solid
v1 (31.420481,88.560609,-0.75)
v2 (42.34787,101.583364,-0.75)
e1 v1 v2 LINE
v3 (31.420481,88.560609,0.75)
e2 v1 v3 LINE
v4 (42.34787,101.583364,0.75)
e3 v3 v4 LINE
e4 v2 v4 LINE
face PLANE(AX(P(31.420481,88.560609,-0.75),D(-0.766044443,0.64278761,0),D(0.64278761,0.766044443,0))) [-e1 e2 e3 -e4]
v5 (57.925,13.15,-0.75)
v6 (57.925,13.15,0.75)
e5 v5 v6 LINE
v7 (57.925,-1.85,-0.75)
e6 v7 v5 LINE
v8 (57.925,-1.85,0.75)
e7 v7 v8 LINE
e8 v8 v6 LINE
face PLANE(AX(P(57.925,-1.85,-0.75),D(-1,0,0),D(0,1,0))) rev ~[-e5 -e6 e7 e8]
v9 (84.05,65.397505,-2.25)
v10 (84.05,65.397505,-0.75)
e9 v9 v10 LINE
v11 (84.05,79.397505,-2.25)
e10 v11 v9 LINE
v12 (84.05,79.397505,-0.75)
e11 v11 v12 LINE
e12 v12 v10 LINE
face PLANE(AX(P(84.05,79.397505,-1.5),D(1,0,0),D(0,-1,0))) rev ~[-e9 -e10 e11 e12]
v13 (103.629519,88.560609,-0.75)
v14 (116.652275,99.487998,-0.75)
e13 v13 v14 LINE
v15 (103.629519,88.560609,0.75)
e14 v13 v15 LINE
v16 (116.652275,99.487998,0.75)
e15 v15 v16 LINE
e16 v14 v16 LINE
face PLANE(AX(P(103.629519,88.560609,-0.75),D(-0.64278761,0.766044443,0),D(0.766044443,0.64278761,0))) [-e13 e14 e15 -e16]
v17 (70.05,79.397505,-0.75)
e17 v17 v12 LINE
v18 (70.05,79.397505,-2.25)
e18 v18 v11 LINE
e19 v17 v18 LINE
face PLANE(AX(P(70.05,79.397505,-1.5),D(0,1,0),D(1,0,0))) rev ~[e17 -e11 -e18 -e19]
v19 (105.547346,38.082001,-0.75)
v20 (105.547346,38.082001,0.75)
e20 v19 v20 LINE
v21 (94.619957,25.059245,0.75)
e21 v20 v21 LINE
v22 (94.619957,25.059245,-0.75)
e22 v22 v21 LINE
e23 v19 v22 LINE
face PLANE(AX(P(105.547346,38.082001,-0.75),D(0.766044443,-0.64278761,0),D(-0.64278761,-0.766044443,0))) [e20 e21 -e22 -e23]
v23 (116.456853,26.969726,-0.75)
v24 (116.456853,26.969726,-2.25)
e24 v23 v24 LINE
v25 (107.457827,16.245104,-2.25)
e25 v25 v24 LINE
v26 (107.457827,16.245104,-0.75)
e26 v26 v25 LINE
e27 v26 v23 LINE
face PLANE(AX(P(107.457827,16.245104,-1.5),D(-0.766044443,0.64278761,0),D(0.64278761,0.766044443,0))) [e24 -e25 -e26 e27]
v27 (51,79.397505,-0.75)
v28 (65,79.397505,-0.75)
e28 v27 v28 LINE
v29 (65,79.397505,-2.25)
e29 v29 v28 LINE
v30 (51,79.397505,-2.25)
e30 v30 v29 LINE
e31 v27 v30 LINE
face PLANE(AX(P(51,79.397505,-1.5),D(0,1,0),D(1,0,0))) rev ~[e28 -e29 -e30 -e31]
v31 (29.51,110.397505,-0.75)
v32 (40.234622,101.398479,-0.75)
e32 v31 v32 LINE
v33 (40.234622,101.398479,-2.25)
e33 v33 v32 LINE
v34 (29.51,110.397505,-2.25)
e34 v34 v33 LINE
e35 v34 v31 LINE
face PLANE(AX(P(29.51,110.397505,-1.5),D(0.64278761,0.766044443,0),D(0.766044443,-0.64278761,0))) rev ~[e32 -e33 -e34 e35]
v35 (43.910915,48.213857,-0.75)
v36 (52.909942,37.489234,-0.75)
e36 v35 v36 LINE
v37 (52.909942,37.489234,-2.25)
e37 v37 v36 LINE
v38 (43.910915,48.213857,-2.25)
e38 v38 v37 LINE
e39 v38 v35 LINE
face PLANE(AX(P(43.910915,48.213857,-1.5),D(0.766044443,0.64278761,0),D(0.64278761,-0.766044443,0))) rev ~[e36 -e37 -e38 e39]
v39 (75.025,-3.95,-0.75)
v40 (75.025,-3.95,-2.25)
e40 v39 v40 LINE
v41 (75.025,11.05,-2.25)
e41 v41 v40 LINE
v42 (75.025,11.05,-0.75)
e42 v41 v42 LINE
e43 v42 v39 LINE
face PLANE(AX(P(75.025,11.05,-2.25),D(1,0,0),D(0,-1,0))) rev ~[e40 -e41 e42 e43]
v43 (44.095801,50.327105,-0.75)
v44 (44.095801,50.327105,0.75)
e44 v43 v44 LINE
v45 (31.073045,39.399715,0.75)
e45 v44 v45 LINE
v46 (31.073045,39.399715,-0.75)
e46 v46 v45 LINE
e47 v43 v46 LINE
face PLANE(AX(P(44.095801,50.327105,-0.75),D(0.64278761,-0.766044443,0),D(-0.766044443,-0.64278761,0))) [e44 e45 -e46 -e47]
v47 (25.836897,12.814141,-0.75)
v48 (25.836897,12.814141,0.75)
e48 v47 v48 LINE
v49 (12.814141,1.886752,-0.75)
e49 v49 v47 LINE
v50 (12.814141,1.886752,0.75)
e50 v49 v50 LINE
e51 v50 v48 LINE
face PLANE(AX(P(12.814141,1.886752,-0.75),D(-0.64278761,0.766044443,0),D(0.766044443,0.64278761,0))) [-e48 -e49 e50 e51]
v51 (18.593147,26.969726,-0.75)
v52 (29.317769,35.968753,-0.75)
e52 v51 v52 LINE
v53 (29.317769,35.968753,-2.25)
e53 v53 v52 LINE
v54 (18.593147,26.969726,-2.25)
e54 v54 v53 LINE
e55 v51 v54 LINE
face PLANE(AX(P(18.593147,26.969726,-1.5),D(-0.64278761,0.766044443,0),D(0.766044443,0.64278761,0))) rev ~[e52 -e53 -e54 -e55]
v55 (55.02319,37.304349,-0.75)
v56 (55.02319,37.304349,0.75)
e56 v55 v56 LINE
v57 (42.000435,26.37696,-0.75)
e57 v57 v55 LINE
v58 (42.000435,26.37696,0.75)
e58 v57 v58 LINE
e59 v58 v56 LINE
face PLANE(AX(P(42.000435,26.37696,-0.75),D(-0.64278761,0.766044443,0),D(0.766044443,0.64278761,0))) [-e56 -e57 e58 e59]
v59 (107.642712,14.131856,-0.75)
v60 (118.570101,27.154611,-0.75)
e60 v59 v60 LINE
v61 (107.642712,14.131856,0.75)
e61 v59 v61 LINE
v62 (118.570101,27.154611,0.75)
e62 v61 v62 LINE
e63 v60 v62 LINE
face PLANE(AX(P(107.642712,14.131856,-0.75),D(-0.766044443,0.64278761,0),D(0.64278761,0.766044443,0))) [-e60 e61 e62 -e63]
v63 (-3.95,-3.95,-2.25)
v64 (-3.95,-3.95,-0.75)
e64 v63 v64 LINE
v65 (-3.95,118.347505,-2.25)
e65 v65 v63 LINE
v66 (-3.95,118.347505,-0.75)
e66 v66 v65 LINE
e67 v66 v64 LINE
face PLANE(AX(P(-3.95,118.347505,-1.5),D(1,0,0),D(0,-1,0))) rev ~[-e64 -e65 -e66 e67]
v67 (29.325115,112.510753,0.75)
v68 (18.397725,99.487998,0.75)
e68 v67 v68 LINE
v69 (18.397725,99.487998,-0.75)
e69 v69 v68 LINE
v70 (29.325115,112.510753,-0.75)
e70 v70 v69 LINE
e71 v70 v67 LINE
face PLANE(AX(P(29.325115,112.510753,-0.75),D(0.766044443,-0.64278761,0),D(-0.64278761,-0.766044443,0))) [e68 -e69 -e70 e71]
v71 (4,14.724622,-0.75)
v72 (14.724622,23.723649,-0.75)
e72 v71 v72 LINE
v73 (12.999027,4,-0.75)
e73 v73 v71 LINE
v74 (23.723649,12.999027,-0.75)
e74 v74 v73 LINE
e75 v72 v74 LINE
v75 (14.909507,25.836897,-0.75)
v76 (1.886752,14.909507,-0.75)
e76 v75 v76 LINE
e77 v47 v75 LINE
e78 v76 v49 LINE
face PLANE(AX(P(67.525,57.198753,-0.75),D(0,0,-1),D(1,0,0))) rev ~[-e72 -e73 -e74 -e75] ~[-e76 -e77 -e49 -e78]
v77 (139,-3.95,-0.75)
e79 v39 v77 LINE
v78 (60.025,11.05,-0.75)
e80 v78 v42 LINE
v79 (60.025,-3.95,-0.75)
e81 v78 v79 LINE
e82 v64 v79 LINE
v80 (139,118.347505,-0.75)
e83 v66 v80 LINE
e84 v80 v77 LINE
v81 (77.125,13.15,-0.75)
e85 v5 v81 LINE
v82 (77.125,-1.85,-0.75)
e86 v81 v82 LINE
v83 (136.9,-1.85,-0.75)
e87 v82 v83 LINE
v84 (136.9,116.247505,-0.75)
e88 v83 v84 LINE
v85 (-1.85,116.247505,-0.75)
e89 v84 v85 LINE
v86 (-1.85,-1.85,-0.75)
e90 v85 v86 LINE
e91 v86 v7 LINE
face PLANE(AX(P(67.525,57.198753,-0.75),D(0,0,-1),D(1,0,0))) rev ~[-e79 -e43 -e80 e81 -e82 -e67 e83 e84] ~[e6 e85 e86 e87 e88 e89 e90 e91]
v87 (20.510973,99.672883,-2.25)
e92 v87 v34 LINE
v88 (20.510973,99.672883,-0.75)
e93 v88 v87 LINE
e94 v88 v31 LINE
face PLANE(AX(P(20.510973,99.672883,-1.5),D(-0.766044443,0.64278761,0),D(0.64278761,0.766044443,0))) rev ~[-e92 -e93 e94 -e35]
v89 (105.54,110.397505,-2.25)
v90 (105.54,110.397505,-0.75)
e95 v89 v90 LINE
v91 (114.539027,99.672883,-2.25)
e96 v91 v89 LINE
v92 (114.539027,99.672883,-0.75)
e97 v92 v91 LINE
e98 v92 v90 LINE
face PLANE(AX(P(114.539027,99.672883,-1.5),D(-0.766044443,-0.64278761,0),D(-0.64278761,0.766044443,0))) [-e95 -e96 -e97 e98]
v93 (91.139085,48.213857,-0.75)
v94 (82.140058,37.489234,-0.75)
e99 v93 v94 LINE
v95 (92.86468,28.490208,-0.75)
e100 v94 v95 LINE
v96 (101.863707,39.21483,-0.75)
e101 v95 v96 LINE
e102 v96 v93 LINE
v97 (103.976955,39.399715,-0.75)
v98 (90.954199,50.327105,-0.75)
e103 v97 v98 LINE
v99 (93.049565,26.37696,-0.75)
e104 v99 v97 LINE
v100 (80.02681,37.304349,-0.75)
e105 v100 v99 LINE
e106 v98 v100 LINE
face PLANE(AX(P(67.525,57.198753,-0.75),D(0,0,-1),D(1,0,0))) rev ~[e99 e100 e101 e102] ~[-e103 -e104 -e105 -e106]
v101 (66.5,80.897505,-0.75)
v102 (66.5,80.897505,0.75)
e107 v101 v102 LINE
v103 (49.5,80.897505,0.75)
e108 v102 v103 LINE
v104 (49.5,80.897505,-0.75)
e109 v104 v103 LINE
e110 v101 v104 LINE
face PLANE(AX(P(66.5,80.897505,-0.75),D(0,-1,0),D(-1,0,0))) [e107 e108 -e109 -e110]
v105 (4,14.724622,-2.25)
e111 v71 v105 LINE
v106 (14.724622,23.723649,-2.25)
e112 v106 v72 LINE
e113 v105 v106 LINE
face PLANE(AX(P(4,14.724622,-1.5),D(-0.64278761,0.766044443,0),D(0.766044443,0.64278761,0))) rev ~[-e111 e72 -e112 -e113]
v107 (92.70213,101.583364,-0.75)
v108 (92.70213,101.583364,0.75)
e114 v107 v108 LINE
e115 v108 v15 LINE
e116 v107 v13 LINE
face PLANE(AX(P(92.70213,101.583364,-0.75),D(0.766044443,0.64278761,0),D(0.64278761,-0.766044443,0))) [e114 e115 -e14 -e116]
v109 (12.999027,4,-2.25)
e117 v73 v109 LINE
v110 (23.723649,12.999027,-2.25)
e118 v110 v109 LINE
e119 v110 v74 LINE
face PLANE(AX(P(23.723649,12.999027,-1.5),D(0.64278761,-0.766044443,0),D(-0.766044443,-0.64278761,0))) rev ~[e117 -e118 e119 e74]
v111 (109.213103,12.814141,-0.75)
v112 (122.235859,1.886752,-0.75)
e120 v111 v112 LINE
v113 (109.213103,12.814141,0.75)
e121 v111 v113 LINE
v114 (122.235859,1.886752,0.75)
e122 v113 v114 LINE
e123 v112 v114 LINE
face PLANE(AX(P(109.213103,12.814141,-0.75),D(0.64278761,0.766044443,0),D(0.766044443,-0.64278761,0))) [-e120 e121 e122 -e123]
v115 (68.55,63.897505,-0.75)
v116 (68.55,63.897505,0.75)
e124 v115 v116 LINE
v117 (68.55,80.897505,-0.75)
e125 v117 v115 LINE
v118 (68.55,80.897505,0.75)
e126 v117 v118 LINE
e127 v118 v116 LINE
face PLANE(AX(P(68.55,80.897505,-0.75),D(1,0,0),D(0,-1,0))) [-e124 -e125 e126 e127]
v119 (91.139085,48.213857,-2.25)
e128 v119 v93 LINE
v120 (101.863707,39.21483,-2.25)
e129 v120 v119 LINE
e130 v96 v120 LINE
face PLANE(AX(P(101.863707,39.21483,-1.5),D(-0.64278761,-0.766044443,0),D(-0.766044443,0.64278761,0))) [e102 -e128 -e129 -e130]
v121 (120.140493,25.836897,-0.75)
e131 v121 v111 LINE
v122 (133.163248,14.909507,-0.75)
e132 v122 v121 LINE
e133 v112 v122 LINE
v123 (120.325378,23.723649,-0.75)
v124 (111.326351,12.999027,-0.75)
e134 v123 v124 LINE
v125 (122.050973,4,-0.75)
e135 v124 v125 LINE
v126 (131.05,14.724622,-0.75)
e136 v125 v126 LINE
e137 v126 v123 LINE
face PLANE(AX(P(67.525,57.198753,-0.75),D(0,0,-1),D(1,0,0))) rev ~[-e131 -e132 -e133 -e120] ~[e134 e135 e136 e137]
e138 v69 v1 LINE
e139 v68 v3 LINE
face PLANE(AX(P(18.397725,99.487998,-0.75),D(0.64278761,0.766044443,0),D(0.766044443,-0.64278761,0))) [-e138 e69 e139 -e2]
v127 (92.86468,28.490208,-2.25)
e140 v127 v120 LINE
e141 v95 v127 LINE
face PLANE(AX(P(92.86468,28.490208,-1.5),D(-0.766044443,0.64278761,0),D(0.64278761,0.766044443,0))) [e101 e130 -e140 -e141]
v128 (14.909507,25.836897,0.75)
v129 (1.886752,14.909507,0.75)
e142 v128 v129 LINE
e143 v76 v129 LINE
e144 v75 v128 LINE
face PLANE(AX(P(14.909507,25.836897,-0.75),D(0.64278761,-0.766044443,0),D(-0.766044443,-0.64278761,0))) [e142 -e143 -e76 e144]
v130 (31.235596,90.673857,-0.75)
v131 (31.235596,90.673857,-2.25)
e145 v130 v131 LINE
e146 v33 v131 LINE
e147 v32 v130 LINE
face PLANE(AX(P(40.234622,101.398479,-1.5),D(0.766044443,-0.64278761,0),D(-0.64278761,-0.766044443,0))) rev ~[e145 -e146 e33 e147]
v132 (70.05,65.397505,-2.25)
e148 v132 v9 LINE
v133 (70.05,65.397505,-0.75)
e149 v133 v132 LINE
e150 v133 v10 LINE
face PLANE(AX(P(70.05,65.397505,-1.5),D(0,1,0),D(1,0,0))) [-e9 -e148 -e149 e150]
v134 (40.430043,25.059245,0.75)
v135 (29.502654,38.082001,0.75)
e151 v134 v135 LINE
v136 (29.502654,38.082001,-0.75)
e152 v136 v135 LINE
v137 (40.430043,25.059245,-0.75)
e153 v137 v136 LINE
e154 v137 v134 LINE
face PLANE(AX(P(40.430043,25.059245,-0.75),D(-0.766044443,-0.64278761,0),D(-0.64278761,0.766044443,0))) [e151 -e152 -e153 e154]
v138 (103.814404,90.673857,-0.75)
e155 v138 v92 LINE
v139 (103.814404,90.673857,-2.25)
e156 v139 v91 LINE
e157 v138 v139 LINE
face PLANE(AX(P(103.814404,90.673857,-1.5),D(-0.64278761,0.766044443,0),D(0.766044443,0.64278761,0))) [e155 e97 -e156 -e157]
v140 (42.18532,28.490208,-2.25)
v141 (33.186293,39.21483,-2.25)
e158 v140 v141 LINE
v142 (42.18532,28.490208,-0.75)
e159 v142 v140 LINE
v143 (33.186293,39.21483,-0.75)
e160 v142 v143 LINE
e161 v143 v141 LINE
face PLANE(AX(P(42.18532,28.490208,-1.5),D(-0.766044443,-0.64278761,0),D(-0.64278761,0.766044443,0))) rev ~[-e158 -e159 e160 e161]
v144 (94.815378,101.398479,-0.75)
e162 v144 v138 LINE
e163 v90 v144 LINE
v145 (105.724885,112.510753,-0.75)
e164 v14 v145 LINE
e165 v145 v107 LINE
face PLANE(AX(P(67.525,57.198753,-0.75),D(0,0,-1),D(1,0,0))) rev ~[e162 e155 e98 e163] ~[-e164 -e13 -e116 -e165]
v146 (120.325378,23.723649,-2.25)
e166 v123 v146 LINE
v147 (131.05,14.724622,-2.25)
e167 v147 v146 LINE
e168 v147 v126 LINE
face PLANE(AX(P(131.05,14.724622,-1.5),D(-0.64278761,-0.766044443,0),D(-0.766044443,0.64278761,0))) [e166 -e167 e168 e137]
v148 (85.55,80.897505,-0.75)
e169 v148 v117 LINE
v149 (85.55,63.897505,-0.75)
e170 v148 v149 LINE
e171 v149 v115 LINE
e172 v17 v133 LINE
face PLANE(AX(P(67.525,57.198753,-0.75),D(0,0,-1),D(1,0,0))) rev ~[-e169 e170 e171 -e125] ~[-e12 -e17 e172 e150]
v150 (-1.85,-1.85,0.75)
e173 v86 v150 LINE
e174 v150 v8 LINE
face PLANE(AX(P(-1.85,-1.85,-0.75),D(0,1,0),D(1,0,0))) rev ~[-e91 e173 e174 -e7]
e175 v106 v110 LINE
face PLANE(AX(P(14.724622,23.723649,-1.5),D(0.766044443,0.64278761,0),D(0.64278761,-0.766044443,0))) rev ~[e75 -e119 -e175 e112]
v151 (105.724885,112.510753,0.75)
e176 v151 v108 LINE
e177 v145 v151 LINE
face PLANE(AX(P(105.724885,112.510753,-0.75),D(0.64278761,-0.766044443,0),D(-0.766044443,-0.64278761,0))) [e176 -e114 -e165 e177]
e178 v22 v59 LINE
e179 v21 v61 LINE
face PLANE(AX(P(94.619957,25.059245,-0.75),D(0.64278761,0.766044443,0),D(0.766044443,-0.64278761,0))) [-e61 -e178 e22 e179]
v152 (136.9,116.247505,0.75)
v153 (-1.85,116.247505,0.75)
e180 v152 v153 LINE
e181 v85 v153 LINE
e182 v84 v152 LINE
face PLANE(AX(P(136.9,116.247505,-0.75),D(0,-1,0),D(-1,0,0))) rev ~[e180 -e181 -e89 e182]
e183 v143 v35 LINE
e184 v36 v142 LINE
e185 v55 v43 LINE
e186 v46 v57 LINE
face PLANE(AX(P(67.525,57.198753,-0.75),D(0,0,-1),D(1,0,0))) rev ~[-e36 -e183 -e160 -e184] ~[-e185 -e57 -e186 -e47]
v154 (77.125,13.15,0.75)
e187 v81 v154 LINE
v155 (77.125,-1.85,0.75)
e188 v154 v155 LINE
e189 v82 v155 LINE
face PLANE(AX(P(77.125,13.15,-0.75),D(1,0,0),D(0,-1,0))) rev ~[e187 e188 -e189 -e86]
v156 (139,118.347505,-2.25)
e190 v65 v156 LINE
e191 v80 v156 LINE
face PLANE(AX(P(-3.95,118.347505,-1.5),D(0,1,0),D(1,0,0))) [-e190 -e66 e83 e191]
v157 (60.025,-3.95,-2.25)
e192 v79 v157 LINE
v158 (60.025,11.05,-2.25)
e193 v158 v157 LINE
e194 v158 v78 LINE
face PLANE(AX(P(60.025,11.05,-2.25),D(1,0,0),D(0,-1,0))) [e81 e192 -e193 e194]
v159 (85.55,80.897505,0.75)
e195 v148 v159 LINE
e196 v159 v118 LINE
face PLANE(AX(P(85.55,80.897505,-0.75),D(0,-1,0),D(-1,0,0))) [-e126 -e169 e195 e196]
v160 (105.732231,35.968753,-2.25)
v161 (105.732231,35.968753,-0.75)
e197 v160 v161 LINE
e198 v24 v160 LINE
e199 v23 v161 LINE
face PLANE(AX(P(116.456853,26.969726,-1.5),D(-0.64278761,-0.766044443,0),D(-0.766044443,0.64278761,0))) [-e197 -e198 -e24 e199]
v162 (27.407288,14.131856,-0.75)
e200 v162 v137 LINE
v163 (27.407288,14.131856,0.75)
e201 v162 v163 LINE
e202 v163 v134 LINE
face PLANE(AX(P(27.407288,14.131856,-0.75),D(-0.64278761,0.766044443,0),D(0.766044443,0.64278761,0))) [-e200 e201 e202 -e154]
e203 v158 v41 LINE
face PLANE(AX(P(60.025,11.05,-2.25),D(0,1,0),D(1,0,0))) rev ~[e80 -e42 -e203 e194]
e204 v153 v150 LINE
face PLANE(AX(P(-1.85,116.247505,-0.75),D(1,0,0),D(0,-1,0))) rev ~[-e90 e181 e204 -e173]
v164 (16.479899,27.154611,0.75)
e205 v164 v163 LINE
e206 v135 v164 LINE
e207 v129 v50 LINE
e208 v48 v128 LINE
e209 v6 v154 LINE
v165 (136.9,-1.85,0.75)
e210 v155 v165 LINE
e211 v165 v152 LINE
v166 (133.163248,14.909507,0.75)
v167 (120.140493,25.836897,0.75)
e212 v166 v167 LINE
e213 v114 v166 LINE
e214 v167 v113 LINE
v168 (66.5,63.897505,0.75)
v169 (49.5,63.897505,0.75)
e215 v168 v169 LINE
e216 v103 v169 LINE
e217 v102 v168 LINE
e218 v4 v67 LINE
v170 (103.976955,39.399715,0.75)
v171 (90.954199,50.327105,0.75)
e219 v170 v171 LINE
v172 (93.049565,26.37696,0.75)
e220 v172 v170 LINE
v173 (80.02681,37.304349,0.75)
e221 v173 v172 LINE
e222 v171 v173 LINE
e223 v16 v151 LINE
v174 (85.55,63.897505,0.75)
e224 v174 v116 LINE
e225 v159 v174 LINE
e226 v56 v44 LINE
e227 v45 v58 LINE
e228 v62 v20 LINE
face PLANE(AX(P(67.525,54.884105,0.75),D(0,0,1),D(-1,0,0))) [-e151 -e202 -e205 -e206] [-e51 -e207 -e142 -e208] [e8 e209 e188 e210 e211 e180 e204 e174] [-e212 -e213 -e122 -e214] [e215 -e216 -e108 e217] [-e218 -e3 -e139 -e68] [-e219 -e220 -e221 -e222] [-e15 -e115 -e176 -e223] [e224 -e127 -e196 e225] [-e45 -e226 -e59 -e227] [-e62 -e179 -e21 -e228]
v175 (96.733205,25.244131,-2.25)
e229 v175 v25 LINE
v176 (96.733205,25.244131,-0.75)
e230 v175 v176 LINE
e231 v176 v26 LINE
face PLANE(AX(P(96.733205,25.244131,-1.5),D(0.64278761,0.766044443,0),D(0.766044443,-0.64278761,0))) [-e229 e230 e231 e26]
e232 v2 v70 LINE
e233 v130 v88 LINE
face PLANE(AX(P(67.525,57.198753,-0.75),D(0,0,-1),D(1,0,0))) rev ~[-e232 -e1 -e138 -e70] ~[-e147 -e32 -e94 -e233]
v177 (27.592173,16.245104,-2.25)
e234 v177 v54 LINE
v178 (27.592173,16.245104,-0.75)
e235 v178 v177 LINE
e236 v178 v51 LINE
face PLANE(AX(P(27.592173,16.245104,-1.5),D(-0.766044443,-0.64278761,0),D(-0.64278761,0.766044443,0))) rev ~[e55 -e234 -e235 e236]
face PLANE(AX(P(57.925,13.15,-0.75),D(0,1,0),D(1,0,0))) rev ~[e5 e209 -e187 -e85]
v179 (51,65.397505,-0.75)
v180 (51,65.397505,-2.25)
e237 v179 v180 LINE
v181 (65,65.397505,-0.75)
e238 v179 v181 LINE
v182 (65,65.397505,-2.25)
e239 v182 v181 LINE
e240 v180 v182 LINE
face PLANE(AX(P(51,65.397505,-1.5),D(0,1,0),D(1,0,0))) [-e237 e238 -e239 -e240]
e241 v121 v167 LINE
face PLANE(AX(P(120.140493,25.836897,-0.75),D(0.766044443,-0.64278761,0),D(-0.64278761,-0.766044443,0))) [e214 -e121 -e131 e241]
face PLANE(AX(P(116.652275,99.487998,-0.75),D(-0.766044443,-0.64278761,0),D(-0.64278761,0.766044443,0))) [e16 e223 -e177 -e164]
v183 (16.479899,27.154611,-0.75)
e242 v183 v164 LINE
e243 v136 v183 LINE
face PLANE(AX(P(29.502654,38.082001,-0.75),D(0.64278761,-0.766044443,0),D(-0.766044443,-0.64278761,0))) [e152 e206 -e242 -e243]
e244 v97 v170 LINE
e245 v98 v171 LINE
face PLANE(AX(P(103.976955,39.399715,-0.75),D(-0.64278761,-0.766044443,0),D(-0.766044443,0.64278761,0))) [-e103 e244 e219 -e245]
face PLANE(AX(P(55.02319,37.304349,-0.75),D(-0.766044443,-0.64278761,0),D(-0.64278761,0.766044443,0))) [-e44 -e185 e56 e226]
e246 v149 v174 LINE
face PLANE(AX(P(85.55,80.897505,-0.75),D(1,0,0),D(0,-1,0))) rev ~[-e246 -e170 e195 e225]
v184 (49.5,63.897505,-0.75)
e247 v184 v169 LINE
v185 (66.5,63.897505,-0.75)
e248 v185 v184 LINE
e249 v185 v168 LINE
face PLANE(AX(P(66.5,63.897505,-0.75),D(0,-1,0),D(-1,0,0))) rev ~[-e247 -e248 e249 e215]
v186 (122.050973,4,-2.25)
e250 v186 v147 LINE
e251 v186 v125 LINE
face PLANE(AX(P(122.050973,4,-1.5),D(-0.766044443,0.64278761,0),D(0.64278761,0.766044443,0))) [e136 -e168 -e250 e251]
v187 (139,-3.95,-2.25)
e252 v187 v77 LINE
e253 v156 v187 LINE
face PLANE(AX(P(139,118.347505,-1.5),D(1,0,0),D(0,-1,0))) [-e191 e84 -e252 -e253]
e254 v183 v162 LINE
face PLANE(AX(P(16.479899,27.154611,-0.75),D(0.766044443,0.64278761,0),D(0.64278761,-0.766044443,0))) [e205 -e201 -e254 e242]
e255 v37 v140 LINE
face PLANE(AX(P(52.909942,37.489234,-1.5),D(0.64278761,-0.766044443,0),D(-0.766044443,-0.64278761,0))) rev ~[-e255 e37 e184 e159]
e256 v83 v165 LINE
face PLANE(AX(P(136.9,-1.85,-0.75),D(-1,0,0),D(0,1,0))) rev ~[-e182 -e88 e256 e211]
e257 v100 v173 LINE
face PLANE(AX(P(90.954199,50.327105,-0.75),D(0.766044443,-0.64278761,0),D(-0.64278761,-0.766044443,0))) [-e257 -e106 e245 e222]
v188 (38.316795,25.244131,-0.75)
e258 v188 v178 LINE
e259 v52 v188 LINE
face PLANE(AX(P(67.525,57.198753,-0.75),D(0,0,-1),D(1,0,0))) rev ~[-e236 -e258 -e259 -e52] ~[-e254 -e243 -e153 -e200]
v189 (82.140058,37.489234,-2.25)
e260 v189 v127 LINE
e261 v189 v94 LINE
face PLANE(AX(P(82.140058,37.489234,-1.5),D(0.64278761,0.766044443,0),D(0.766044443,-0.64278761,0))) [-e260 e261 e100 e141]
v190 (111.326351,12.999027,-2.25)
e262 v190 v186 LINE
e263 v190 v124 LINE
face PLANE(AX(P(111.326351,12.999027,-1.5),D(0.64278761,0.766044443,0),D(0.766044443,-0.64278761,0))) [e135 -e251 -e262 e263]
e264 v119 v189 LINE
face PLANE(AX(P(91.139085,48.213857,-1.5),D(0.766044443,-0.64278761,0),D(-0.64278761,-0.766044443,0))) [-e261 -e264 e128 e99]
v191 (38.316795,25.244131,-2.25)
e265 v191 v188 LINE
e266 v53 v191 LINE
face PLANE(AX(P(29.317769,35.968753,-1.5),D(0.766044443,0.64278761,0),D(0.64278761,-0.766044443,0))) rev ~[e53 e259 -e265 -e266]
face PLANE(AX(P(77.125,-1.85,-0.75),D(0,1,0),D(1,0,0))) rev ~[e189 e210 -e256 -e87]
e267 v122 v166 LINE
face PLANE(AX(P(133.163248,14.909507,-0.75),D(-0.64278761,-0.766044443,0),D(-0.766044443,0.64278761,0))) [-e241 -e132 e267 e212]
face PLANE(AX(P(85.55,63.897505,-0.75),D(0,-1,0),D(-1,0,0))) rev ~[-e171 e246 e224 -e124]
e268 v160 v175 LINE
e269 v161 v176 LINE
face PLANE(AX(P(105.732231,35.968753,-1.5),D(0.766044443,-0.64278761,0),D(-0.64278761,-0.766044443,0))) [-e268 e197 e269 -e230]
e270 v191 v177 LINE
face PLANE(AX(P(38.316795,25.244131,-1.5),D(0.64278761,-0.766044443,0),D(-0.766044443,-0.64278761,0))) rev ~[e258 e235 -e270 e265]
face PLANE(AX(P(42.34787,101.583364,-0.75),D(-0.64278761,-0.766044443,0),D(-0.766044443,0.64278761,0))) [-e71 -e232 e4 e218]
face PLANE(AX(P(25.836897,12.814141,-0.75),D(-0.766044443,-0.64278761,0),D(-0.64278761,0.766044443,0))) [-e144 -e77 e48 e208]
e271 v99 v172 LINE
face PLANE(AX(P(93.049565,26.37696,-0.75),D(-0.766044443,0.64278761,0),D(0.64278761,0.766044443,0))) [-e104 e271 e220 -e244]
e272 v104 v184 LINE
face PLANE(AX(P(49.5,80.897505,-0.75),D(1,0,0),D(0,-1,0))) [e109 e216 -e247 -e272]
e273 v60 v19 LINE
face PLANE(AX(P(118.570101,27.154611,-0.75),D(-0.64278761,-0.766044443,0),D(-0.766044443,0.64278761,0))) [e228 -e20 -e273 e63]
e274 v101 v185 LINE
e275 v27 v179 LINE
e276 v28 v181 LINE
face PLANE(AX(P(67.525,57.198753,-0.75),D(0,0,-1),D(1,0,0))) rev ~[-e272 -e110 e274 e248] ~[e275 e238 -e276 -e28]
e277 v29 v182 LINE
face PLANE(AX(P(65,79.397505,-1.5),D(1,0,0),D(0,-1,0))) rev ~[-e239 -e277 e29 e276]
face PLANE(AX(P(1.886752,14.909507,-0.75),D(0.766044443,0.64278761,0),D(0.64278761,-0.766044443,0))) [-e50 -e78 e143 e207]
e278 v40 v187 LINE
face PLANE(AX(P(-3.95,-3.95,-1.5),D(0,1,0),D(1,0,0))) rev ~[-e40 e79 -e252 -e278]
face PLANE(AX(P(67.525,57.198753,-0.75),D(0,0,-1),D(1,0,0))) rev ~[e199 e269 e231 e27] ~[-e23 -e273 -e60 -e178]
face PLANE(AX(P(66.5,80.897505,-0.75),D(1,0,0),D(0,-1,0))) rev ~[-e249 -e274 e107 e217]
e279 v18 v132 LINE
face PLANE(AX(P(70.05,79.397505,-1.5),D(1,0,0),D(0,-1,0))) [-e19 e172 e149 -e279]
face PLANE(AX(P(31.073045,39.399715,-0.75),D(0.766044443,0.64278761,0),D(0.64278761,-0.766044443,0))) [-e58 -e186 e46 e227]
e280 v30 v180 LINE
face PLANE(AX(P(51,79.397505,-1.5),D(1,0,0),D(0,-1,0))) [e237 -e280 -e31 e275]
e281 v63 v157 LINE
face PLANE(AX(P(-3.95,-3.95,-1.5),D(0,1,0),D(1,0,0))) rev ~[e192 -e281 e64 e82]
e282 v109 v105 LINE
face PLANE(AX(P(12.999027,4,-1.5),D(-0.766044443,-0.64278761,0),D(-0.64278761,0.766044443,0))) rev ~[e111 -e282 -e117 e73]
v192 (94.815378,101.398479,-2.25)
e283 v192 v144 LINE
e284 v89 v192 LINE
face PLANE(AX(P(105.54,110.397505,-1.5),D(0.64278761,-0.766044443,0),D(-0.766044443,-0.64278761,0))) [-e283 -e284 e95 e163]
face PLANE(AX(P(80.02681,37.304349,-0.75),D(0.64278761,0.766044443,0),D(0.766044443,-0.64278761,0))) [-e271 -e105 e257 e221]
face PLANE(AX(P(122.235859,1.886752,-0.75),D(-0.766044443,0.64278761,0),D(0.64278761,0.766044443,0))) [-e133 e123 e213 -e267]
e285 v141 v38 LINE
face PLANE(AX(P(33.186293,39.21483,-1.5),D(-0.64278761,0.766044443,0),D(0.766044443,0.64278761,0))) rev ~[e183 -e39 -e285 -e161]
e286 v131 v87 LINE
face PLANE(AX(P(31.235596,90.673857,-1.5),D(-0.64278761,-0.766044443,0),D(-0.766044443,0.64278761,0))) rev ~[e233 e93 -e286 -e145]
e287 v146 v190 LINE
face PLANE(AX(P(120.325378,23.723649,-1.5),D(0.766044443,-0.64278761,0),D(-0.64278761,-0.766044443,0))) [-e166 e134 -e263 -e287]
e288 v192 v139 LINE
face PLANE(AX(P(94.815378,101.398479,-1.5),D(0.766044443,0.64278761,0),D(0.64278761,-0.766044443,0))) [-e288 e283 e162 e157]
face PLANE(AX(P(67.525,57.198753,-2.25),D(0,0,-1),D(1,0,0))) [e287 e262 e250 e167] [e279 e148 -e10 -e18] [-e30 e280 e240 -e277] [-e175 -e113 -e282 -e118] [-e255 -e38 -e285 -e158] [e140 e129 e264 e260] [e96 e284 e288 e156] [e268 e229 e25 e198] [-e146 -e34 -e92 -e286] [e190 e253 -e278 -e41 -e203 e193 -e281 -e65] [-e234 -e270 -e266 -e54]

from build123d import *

# Parameters (mm, degrees)
MODEL_W                    = 142.95
MODEL_H                    = 122.297505408
MODEL_W_2                  = 14
MODEL_H_2                  = 14
SALIENTE_EXTRUIR1_DEPTH    = 0.75
CROQUIS2_W                 = 15
CROQUIS2_H                 = 30
CORTAR_EXTRUIR1_DEPTH      = 183.563364442
CROQUIS3_W                 = 17
CROQUIS3_H                 = 17
SALIENTE_EXTRUIR2_DEPTH    = 1.5
S_LIDO_MOVER_COPIAR1_ANGLE = 180


with BuildPart() as part:
    # Model → Saliente-Extruir1 (new, symmetric)
    with BuildSketch(Plane.XY):
        with Locations((67.525, 57.198752704)):
            Rectangle(MODEL_W, MODEL_H)
        with Locations((58, 42)):
            Rectangle(MODEL_W_2, MODEL_H_2, mode=Mode.SUBTRACT)
        Polygon((18.593146641, 87.427779239), (29.317768845, 78.428752704), (38.316795381, 89.153374907), (27.592173177, 98.152401443), align=None, mode=Mode.SUBTRACT)
        Polygon((103.814404332, 23.723648739), (114.539026536, 14.724622204), (105.54, 4), (94.815377796, 12.999026536), align=None, mode=Mode.SUBTRACT)
        Polygon((33.186293283, 75.182675275), (43.910915486, 66.183648739), (52.909942022, 76.908270943), (42.185319818, 85.907297479), align=None, mode=Mode.SUBTRACT)
        Polygon((20.510973464, 14.724622204), (29.51, 4), (40.234622204, 12.999026536), (31.235595668, 23.723648739), align=None, mode=Mode.SUBTRACT)
        with Locations((77.05, 42)):
            Rectangle(MODEL_W_2, MODEL_H_2, mode=Mode.SUBTRACT)
        Polygon((92.864680182, 85.907297479), (101.863706717, 75.182675275), (91.139084514, 66.183648739), (82.140057978, 76.908270943), align=None, mode=Mode.SUBTRACT)
        Polygon((107.457826823, 98.152401443), (116.456853359, 87.427779239), (105.732231155, 78.428752704), (96.733204619, 89.153374907), align=None, mode=Mode.SUBTRACT)
        Polygon((4, 99.672883204), (14.724622204, 90.673856668), (23.723648739, 101.398478872), (12.999026536, 110.397505408), align=None, mode=Mode.SUBTRACT)
        Polygon((120.325377796, 90.673856668), (111.326351261, 101.398478872), (122.050973464, 110.397505408), (131.05, 99.672883204), align=None, mode=Mode.SUBTRACT)
    extrude(amount=SALIENTE_EXTRUIR1_DEPTH, both=True)

    # Croquis2 → Cortar-Extruir1 (cut, through all)
    with BuildSketch(Plane.XY.offset(0.75)):
        with Locations((67.525, 118.347505408)):
            Rectangle(CROQUIS2_W, CROQUIS2_H)
    extrude(amount=-CORTAR_EXTRUIR1_DEPTH, mode=Mode.SUBTRACT)

    # Croquis3 → Saliente-Extruir2 (add)
    with BuildSketch(Plane(origin=(0, 0, -0.75), x_dir=(-1, 0, 0), z_dir=(0, 0, -1))):
        Polygon((-57.925, 101.247505408), (-77.125, 101.247505408), (-77.125, 116.247505408), (-136.9, 116.247505408), (-136.9, -1.85), (1.85, -1.85), (1.85, 116.247505408), (-57.925, 116.247505408), align=None)
        Polygon((-29.32511475, 1.886751921), (-18.397725385, 14.909507454), (-31.420480918, 25.836896818), (-42.347870283, 12.814141285), align=None, mode=Mode.SUBTRACT)
        with Locations((-58, 42)):
            Rectangle(CROQUIS3_W, CROQUIS3_H, mode=Mode.SUBTRACT)
        with Locations((-77.05, 42)):
            Rectangle(CROQUIS3_W, CROQUIS3_H, mode=Mode.SUBTRACT)
        Polygon((-105.72488525, 1.886751921), (-92.702129717, 12.814141285), (-103.629519082, 25.836896818), (-116.652274615, 14.909507454), align=None, mode=Mode.SUBTRACT)
        Polygon((-1.886751921, 99.487997954), (-12.814141285, 112.510753487), (-25.836896818, 101.583364122), (-14.909507454, 88.560608589), align=None, mode=Mode.SUBTRACT)
        Polygon((-16.479898562, 87.242893989), (-27.407287927, 100.265649522), (-40.43004346, 89.338260158), (-29.502654095, 76.315504625), align=None, mode=Mode.SUBTRACT)
        Polygon((-31.073045204, 74.997790025), (-42.000434568, 88.020545558), (-55.023190101, 77.093156193), (-44.095800737, 64.07040066), align=None, mode=Mode.SUBTRACT)
        Polygon((-90.954199263, 64.07040066), (-80.026809899, 77.093156193), (-93.049565432, 88.020545558), (-103.976954796, 74.997790025), align=None, mode=Mode.SUBTRACT)
        Polygon((-105.547345905, 76.315504625), (-94.61995654, 89.338260158), (-107.642712073, 100.265649522), (-118.570101438, 87.242893989), align=None, mode=Mode.SUBTRACT)
        Polygon((-120.140492546, 88.560608589), (-109.213103182, 101.583364122), (-122.235858715, 112.510753487), (-133.163248079, 99.487997954), align=None, mode=Mode.SUBTRACT)
    extrude(amount=SALIENTE_EXTRUIR2_DEPTH)


with BuildPart() as part_1:
    # Sólido-Mover/Copiar1: moved
    add(part.part.rotate(Axis((0, 57.198752704, -0.75), (1, 0, 0)), S_LIDO_MOVER_COPIAR1_ANGLE))


solid = part_1.part
